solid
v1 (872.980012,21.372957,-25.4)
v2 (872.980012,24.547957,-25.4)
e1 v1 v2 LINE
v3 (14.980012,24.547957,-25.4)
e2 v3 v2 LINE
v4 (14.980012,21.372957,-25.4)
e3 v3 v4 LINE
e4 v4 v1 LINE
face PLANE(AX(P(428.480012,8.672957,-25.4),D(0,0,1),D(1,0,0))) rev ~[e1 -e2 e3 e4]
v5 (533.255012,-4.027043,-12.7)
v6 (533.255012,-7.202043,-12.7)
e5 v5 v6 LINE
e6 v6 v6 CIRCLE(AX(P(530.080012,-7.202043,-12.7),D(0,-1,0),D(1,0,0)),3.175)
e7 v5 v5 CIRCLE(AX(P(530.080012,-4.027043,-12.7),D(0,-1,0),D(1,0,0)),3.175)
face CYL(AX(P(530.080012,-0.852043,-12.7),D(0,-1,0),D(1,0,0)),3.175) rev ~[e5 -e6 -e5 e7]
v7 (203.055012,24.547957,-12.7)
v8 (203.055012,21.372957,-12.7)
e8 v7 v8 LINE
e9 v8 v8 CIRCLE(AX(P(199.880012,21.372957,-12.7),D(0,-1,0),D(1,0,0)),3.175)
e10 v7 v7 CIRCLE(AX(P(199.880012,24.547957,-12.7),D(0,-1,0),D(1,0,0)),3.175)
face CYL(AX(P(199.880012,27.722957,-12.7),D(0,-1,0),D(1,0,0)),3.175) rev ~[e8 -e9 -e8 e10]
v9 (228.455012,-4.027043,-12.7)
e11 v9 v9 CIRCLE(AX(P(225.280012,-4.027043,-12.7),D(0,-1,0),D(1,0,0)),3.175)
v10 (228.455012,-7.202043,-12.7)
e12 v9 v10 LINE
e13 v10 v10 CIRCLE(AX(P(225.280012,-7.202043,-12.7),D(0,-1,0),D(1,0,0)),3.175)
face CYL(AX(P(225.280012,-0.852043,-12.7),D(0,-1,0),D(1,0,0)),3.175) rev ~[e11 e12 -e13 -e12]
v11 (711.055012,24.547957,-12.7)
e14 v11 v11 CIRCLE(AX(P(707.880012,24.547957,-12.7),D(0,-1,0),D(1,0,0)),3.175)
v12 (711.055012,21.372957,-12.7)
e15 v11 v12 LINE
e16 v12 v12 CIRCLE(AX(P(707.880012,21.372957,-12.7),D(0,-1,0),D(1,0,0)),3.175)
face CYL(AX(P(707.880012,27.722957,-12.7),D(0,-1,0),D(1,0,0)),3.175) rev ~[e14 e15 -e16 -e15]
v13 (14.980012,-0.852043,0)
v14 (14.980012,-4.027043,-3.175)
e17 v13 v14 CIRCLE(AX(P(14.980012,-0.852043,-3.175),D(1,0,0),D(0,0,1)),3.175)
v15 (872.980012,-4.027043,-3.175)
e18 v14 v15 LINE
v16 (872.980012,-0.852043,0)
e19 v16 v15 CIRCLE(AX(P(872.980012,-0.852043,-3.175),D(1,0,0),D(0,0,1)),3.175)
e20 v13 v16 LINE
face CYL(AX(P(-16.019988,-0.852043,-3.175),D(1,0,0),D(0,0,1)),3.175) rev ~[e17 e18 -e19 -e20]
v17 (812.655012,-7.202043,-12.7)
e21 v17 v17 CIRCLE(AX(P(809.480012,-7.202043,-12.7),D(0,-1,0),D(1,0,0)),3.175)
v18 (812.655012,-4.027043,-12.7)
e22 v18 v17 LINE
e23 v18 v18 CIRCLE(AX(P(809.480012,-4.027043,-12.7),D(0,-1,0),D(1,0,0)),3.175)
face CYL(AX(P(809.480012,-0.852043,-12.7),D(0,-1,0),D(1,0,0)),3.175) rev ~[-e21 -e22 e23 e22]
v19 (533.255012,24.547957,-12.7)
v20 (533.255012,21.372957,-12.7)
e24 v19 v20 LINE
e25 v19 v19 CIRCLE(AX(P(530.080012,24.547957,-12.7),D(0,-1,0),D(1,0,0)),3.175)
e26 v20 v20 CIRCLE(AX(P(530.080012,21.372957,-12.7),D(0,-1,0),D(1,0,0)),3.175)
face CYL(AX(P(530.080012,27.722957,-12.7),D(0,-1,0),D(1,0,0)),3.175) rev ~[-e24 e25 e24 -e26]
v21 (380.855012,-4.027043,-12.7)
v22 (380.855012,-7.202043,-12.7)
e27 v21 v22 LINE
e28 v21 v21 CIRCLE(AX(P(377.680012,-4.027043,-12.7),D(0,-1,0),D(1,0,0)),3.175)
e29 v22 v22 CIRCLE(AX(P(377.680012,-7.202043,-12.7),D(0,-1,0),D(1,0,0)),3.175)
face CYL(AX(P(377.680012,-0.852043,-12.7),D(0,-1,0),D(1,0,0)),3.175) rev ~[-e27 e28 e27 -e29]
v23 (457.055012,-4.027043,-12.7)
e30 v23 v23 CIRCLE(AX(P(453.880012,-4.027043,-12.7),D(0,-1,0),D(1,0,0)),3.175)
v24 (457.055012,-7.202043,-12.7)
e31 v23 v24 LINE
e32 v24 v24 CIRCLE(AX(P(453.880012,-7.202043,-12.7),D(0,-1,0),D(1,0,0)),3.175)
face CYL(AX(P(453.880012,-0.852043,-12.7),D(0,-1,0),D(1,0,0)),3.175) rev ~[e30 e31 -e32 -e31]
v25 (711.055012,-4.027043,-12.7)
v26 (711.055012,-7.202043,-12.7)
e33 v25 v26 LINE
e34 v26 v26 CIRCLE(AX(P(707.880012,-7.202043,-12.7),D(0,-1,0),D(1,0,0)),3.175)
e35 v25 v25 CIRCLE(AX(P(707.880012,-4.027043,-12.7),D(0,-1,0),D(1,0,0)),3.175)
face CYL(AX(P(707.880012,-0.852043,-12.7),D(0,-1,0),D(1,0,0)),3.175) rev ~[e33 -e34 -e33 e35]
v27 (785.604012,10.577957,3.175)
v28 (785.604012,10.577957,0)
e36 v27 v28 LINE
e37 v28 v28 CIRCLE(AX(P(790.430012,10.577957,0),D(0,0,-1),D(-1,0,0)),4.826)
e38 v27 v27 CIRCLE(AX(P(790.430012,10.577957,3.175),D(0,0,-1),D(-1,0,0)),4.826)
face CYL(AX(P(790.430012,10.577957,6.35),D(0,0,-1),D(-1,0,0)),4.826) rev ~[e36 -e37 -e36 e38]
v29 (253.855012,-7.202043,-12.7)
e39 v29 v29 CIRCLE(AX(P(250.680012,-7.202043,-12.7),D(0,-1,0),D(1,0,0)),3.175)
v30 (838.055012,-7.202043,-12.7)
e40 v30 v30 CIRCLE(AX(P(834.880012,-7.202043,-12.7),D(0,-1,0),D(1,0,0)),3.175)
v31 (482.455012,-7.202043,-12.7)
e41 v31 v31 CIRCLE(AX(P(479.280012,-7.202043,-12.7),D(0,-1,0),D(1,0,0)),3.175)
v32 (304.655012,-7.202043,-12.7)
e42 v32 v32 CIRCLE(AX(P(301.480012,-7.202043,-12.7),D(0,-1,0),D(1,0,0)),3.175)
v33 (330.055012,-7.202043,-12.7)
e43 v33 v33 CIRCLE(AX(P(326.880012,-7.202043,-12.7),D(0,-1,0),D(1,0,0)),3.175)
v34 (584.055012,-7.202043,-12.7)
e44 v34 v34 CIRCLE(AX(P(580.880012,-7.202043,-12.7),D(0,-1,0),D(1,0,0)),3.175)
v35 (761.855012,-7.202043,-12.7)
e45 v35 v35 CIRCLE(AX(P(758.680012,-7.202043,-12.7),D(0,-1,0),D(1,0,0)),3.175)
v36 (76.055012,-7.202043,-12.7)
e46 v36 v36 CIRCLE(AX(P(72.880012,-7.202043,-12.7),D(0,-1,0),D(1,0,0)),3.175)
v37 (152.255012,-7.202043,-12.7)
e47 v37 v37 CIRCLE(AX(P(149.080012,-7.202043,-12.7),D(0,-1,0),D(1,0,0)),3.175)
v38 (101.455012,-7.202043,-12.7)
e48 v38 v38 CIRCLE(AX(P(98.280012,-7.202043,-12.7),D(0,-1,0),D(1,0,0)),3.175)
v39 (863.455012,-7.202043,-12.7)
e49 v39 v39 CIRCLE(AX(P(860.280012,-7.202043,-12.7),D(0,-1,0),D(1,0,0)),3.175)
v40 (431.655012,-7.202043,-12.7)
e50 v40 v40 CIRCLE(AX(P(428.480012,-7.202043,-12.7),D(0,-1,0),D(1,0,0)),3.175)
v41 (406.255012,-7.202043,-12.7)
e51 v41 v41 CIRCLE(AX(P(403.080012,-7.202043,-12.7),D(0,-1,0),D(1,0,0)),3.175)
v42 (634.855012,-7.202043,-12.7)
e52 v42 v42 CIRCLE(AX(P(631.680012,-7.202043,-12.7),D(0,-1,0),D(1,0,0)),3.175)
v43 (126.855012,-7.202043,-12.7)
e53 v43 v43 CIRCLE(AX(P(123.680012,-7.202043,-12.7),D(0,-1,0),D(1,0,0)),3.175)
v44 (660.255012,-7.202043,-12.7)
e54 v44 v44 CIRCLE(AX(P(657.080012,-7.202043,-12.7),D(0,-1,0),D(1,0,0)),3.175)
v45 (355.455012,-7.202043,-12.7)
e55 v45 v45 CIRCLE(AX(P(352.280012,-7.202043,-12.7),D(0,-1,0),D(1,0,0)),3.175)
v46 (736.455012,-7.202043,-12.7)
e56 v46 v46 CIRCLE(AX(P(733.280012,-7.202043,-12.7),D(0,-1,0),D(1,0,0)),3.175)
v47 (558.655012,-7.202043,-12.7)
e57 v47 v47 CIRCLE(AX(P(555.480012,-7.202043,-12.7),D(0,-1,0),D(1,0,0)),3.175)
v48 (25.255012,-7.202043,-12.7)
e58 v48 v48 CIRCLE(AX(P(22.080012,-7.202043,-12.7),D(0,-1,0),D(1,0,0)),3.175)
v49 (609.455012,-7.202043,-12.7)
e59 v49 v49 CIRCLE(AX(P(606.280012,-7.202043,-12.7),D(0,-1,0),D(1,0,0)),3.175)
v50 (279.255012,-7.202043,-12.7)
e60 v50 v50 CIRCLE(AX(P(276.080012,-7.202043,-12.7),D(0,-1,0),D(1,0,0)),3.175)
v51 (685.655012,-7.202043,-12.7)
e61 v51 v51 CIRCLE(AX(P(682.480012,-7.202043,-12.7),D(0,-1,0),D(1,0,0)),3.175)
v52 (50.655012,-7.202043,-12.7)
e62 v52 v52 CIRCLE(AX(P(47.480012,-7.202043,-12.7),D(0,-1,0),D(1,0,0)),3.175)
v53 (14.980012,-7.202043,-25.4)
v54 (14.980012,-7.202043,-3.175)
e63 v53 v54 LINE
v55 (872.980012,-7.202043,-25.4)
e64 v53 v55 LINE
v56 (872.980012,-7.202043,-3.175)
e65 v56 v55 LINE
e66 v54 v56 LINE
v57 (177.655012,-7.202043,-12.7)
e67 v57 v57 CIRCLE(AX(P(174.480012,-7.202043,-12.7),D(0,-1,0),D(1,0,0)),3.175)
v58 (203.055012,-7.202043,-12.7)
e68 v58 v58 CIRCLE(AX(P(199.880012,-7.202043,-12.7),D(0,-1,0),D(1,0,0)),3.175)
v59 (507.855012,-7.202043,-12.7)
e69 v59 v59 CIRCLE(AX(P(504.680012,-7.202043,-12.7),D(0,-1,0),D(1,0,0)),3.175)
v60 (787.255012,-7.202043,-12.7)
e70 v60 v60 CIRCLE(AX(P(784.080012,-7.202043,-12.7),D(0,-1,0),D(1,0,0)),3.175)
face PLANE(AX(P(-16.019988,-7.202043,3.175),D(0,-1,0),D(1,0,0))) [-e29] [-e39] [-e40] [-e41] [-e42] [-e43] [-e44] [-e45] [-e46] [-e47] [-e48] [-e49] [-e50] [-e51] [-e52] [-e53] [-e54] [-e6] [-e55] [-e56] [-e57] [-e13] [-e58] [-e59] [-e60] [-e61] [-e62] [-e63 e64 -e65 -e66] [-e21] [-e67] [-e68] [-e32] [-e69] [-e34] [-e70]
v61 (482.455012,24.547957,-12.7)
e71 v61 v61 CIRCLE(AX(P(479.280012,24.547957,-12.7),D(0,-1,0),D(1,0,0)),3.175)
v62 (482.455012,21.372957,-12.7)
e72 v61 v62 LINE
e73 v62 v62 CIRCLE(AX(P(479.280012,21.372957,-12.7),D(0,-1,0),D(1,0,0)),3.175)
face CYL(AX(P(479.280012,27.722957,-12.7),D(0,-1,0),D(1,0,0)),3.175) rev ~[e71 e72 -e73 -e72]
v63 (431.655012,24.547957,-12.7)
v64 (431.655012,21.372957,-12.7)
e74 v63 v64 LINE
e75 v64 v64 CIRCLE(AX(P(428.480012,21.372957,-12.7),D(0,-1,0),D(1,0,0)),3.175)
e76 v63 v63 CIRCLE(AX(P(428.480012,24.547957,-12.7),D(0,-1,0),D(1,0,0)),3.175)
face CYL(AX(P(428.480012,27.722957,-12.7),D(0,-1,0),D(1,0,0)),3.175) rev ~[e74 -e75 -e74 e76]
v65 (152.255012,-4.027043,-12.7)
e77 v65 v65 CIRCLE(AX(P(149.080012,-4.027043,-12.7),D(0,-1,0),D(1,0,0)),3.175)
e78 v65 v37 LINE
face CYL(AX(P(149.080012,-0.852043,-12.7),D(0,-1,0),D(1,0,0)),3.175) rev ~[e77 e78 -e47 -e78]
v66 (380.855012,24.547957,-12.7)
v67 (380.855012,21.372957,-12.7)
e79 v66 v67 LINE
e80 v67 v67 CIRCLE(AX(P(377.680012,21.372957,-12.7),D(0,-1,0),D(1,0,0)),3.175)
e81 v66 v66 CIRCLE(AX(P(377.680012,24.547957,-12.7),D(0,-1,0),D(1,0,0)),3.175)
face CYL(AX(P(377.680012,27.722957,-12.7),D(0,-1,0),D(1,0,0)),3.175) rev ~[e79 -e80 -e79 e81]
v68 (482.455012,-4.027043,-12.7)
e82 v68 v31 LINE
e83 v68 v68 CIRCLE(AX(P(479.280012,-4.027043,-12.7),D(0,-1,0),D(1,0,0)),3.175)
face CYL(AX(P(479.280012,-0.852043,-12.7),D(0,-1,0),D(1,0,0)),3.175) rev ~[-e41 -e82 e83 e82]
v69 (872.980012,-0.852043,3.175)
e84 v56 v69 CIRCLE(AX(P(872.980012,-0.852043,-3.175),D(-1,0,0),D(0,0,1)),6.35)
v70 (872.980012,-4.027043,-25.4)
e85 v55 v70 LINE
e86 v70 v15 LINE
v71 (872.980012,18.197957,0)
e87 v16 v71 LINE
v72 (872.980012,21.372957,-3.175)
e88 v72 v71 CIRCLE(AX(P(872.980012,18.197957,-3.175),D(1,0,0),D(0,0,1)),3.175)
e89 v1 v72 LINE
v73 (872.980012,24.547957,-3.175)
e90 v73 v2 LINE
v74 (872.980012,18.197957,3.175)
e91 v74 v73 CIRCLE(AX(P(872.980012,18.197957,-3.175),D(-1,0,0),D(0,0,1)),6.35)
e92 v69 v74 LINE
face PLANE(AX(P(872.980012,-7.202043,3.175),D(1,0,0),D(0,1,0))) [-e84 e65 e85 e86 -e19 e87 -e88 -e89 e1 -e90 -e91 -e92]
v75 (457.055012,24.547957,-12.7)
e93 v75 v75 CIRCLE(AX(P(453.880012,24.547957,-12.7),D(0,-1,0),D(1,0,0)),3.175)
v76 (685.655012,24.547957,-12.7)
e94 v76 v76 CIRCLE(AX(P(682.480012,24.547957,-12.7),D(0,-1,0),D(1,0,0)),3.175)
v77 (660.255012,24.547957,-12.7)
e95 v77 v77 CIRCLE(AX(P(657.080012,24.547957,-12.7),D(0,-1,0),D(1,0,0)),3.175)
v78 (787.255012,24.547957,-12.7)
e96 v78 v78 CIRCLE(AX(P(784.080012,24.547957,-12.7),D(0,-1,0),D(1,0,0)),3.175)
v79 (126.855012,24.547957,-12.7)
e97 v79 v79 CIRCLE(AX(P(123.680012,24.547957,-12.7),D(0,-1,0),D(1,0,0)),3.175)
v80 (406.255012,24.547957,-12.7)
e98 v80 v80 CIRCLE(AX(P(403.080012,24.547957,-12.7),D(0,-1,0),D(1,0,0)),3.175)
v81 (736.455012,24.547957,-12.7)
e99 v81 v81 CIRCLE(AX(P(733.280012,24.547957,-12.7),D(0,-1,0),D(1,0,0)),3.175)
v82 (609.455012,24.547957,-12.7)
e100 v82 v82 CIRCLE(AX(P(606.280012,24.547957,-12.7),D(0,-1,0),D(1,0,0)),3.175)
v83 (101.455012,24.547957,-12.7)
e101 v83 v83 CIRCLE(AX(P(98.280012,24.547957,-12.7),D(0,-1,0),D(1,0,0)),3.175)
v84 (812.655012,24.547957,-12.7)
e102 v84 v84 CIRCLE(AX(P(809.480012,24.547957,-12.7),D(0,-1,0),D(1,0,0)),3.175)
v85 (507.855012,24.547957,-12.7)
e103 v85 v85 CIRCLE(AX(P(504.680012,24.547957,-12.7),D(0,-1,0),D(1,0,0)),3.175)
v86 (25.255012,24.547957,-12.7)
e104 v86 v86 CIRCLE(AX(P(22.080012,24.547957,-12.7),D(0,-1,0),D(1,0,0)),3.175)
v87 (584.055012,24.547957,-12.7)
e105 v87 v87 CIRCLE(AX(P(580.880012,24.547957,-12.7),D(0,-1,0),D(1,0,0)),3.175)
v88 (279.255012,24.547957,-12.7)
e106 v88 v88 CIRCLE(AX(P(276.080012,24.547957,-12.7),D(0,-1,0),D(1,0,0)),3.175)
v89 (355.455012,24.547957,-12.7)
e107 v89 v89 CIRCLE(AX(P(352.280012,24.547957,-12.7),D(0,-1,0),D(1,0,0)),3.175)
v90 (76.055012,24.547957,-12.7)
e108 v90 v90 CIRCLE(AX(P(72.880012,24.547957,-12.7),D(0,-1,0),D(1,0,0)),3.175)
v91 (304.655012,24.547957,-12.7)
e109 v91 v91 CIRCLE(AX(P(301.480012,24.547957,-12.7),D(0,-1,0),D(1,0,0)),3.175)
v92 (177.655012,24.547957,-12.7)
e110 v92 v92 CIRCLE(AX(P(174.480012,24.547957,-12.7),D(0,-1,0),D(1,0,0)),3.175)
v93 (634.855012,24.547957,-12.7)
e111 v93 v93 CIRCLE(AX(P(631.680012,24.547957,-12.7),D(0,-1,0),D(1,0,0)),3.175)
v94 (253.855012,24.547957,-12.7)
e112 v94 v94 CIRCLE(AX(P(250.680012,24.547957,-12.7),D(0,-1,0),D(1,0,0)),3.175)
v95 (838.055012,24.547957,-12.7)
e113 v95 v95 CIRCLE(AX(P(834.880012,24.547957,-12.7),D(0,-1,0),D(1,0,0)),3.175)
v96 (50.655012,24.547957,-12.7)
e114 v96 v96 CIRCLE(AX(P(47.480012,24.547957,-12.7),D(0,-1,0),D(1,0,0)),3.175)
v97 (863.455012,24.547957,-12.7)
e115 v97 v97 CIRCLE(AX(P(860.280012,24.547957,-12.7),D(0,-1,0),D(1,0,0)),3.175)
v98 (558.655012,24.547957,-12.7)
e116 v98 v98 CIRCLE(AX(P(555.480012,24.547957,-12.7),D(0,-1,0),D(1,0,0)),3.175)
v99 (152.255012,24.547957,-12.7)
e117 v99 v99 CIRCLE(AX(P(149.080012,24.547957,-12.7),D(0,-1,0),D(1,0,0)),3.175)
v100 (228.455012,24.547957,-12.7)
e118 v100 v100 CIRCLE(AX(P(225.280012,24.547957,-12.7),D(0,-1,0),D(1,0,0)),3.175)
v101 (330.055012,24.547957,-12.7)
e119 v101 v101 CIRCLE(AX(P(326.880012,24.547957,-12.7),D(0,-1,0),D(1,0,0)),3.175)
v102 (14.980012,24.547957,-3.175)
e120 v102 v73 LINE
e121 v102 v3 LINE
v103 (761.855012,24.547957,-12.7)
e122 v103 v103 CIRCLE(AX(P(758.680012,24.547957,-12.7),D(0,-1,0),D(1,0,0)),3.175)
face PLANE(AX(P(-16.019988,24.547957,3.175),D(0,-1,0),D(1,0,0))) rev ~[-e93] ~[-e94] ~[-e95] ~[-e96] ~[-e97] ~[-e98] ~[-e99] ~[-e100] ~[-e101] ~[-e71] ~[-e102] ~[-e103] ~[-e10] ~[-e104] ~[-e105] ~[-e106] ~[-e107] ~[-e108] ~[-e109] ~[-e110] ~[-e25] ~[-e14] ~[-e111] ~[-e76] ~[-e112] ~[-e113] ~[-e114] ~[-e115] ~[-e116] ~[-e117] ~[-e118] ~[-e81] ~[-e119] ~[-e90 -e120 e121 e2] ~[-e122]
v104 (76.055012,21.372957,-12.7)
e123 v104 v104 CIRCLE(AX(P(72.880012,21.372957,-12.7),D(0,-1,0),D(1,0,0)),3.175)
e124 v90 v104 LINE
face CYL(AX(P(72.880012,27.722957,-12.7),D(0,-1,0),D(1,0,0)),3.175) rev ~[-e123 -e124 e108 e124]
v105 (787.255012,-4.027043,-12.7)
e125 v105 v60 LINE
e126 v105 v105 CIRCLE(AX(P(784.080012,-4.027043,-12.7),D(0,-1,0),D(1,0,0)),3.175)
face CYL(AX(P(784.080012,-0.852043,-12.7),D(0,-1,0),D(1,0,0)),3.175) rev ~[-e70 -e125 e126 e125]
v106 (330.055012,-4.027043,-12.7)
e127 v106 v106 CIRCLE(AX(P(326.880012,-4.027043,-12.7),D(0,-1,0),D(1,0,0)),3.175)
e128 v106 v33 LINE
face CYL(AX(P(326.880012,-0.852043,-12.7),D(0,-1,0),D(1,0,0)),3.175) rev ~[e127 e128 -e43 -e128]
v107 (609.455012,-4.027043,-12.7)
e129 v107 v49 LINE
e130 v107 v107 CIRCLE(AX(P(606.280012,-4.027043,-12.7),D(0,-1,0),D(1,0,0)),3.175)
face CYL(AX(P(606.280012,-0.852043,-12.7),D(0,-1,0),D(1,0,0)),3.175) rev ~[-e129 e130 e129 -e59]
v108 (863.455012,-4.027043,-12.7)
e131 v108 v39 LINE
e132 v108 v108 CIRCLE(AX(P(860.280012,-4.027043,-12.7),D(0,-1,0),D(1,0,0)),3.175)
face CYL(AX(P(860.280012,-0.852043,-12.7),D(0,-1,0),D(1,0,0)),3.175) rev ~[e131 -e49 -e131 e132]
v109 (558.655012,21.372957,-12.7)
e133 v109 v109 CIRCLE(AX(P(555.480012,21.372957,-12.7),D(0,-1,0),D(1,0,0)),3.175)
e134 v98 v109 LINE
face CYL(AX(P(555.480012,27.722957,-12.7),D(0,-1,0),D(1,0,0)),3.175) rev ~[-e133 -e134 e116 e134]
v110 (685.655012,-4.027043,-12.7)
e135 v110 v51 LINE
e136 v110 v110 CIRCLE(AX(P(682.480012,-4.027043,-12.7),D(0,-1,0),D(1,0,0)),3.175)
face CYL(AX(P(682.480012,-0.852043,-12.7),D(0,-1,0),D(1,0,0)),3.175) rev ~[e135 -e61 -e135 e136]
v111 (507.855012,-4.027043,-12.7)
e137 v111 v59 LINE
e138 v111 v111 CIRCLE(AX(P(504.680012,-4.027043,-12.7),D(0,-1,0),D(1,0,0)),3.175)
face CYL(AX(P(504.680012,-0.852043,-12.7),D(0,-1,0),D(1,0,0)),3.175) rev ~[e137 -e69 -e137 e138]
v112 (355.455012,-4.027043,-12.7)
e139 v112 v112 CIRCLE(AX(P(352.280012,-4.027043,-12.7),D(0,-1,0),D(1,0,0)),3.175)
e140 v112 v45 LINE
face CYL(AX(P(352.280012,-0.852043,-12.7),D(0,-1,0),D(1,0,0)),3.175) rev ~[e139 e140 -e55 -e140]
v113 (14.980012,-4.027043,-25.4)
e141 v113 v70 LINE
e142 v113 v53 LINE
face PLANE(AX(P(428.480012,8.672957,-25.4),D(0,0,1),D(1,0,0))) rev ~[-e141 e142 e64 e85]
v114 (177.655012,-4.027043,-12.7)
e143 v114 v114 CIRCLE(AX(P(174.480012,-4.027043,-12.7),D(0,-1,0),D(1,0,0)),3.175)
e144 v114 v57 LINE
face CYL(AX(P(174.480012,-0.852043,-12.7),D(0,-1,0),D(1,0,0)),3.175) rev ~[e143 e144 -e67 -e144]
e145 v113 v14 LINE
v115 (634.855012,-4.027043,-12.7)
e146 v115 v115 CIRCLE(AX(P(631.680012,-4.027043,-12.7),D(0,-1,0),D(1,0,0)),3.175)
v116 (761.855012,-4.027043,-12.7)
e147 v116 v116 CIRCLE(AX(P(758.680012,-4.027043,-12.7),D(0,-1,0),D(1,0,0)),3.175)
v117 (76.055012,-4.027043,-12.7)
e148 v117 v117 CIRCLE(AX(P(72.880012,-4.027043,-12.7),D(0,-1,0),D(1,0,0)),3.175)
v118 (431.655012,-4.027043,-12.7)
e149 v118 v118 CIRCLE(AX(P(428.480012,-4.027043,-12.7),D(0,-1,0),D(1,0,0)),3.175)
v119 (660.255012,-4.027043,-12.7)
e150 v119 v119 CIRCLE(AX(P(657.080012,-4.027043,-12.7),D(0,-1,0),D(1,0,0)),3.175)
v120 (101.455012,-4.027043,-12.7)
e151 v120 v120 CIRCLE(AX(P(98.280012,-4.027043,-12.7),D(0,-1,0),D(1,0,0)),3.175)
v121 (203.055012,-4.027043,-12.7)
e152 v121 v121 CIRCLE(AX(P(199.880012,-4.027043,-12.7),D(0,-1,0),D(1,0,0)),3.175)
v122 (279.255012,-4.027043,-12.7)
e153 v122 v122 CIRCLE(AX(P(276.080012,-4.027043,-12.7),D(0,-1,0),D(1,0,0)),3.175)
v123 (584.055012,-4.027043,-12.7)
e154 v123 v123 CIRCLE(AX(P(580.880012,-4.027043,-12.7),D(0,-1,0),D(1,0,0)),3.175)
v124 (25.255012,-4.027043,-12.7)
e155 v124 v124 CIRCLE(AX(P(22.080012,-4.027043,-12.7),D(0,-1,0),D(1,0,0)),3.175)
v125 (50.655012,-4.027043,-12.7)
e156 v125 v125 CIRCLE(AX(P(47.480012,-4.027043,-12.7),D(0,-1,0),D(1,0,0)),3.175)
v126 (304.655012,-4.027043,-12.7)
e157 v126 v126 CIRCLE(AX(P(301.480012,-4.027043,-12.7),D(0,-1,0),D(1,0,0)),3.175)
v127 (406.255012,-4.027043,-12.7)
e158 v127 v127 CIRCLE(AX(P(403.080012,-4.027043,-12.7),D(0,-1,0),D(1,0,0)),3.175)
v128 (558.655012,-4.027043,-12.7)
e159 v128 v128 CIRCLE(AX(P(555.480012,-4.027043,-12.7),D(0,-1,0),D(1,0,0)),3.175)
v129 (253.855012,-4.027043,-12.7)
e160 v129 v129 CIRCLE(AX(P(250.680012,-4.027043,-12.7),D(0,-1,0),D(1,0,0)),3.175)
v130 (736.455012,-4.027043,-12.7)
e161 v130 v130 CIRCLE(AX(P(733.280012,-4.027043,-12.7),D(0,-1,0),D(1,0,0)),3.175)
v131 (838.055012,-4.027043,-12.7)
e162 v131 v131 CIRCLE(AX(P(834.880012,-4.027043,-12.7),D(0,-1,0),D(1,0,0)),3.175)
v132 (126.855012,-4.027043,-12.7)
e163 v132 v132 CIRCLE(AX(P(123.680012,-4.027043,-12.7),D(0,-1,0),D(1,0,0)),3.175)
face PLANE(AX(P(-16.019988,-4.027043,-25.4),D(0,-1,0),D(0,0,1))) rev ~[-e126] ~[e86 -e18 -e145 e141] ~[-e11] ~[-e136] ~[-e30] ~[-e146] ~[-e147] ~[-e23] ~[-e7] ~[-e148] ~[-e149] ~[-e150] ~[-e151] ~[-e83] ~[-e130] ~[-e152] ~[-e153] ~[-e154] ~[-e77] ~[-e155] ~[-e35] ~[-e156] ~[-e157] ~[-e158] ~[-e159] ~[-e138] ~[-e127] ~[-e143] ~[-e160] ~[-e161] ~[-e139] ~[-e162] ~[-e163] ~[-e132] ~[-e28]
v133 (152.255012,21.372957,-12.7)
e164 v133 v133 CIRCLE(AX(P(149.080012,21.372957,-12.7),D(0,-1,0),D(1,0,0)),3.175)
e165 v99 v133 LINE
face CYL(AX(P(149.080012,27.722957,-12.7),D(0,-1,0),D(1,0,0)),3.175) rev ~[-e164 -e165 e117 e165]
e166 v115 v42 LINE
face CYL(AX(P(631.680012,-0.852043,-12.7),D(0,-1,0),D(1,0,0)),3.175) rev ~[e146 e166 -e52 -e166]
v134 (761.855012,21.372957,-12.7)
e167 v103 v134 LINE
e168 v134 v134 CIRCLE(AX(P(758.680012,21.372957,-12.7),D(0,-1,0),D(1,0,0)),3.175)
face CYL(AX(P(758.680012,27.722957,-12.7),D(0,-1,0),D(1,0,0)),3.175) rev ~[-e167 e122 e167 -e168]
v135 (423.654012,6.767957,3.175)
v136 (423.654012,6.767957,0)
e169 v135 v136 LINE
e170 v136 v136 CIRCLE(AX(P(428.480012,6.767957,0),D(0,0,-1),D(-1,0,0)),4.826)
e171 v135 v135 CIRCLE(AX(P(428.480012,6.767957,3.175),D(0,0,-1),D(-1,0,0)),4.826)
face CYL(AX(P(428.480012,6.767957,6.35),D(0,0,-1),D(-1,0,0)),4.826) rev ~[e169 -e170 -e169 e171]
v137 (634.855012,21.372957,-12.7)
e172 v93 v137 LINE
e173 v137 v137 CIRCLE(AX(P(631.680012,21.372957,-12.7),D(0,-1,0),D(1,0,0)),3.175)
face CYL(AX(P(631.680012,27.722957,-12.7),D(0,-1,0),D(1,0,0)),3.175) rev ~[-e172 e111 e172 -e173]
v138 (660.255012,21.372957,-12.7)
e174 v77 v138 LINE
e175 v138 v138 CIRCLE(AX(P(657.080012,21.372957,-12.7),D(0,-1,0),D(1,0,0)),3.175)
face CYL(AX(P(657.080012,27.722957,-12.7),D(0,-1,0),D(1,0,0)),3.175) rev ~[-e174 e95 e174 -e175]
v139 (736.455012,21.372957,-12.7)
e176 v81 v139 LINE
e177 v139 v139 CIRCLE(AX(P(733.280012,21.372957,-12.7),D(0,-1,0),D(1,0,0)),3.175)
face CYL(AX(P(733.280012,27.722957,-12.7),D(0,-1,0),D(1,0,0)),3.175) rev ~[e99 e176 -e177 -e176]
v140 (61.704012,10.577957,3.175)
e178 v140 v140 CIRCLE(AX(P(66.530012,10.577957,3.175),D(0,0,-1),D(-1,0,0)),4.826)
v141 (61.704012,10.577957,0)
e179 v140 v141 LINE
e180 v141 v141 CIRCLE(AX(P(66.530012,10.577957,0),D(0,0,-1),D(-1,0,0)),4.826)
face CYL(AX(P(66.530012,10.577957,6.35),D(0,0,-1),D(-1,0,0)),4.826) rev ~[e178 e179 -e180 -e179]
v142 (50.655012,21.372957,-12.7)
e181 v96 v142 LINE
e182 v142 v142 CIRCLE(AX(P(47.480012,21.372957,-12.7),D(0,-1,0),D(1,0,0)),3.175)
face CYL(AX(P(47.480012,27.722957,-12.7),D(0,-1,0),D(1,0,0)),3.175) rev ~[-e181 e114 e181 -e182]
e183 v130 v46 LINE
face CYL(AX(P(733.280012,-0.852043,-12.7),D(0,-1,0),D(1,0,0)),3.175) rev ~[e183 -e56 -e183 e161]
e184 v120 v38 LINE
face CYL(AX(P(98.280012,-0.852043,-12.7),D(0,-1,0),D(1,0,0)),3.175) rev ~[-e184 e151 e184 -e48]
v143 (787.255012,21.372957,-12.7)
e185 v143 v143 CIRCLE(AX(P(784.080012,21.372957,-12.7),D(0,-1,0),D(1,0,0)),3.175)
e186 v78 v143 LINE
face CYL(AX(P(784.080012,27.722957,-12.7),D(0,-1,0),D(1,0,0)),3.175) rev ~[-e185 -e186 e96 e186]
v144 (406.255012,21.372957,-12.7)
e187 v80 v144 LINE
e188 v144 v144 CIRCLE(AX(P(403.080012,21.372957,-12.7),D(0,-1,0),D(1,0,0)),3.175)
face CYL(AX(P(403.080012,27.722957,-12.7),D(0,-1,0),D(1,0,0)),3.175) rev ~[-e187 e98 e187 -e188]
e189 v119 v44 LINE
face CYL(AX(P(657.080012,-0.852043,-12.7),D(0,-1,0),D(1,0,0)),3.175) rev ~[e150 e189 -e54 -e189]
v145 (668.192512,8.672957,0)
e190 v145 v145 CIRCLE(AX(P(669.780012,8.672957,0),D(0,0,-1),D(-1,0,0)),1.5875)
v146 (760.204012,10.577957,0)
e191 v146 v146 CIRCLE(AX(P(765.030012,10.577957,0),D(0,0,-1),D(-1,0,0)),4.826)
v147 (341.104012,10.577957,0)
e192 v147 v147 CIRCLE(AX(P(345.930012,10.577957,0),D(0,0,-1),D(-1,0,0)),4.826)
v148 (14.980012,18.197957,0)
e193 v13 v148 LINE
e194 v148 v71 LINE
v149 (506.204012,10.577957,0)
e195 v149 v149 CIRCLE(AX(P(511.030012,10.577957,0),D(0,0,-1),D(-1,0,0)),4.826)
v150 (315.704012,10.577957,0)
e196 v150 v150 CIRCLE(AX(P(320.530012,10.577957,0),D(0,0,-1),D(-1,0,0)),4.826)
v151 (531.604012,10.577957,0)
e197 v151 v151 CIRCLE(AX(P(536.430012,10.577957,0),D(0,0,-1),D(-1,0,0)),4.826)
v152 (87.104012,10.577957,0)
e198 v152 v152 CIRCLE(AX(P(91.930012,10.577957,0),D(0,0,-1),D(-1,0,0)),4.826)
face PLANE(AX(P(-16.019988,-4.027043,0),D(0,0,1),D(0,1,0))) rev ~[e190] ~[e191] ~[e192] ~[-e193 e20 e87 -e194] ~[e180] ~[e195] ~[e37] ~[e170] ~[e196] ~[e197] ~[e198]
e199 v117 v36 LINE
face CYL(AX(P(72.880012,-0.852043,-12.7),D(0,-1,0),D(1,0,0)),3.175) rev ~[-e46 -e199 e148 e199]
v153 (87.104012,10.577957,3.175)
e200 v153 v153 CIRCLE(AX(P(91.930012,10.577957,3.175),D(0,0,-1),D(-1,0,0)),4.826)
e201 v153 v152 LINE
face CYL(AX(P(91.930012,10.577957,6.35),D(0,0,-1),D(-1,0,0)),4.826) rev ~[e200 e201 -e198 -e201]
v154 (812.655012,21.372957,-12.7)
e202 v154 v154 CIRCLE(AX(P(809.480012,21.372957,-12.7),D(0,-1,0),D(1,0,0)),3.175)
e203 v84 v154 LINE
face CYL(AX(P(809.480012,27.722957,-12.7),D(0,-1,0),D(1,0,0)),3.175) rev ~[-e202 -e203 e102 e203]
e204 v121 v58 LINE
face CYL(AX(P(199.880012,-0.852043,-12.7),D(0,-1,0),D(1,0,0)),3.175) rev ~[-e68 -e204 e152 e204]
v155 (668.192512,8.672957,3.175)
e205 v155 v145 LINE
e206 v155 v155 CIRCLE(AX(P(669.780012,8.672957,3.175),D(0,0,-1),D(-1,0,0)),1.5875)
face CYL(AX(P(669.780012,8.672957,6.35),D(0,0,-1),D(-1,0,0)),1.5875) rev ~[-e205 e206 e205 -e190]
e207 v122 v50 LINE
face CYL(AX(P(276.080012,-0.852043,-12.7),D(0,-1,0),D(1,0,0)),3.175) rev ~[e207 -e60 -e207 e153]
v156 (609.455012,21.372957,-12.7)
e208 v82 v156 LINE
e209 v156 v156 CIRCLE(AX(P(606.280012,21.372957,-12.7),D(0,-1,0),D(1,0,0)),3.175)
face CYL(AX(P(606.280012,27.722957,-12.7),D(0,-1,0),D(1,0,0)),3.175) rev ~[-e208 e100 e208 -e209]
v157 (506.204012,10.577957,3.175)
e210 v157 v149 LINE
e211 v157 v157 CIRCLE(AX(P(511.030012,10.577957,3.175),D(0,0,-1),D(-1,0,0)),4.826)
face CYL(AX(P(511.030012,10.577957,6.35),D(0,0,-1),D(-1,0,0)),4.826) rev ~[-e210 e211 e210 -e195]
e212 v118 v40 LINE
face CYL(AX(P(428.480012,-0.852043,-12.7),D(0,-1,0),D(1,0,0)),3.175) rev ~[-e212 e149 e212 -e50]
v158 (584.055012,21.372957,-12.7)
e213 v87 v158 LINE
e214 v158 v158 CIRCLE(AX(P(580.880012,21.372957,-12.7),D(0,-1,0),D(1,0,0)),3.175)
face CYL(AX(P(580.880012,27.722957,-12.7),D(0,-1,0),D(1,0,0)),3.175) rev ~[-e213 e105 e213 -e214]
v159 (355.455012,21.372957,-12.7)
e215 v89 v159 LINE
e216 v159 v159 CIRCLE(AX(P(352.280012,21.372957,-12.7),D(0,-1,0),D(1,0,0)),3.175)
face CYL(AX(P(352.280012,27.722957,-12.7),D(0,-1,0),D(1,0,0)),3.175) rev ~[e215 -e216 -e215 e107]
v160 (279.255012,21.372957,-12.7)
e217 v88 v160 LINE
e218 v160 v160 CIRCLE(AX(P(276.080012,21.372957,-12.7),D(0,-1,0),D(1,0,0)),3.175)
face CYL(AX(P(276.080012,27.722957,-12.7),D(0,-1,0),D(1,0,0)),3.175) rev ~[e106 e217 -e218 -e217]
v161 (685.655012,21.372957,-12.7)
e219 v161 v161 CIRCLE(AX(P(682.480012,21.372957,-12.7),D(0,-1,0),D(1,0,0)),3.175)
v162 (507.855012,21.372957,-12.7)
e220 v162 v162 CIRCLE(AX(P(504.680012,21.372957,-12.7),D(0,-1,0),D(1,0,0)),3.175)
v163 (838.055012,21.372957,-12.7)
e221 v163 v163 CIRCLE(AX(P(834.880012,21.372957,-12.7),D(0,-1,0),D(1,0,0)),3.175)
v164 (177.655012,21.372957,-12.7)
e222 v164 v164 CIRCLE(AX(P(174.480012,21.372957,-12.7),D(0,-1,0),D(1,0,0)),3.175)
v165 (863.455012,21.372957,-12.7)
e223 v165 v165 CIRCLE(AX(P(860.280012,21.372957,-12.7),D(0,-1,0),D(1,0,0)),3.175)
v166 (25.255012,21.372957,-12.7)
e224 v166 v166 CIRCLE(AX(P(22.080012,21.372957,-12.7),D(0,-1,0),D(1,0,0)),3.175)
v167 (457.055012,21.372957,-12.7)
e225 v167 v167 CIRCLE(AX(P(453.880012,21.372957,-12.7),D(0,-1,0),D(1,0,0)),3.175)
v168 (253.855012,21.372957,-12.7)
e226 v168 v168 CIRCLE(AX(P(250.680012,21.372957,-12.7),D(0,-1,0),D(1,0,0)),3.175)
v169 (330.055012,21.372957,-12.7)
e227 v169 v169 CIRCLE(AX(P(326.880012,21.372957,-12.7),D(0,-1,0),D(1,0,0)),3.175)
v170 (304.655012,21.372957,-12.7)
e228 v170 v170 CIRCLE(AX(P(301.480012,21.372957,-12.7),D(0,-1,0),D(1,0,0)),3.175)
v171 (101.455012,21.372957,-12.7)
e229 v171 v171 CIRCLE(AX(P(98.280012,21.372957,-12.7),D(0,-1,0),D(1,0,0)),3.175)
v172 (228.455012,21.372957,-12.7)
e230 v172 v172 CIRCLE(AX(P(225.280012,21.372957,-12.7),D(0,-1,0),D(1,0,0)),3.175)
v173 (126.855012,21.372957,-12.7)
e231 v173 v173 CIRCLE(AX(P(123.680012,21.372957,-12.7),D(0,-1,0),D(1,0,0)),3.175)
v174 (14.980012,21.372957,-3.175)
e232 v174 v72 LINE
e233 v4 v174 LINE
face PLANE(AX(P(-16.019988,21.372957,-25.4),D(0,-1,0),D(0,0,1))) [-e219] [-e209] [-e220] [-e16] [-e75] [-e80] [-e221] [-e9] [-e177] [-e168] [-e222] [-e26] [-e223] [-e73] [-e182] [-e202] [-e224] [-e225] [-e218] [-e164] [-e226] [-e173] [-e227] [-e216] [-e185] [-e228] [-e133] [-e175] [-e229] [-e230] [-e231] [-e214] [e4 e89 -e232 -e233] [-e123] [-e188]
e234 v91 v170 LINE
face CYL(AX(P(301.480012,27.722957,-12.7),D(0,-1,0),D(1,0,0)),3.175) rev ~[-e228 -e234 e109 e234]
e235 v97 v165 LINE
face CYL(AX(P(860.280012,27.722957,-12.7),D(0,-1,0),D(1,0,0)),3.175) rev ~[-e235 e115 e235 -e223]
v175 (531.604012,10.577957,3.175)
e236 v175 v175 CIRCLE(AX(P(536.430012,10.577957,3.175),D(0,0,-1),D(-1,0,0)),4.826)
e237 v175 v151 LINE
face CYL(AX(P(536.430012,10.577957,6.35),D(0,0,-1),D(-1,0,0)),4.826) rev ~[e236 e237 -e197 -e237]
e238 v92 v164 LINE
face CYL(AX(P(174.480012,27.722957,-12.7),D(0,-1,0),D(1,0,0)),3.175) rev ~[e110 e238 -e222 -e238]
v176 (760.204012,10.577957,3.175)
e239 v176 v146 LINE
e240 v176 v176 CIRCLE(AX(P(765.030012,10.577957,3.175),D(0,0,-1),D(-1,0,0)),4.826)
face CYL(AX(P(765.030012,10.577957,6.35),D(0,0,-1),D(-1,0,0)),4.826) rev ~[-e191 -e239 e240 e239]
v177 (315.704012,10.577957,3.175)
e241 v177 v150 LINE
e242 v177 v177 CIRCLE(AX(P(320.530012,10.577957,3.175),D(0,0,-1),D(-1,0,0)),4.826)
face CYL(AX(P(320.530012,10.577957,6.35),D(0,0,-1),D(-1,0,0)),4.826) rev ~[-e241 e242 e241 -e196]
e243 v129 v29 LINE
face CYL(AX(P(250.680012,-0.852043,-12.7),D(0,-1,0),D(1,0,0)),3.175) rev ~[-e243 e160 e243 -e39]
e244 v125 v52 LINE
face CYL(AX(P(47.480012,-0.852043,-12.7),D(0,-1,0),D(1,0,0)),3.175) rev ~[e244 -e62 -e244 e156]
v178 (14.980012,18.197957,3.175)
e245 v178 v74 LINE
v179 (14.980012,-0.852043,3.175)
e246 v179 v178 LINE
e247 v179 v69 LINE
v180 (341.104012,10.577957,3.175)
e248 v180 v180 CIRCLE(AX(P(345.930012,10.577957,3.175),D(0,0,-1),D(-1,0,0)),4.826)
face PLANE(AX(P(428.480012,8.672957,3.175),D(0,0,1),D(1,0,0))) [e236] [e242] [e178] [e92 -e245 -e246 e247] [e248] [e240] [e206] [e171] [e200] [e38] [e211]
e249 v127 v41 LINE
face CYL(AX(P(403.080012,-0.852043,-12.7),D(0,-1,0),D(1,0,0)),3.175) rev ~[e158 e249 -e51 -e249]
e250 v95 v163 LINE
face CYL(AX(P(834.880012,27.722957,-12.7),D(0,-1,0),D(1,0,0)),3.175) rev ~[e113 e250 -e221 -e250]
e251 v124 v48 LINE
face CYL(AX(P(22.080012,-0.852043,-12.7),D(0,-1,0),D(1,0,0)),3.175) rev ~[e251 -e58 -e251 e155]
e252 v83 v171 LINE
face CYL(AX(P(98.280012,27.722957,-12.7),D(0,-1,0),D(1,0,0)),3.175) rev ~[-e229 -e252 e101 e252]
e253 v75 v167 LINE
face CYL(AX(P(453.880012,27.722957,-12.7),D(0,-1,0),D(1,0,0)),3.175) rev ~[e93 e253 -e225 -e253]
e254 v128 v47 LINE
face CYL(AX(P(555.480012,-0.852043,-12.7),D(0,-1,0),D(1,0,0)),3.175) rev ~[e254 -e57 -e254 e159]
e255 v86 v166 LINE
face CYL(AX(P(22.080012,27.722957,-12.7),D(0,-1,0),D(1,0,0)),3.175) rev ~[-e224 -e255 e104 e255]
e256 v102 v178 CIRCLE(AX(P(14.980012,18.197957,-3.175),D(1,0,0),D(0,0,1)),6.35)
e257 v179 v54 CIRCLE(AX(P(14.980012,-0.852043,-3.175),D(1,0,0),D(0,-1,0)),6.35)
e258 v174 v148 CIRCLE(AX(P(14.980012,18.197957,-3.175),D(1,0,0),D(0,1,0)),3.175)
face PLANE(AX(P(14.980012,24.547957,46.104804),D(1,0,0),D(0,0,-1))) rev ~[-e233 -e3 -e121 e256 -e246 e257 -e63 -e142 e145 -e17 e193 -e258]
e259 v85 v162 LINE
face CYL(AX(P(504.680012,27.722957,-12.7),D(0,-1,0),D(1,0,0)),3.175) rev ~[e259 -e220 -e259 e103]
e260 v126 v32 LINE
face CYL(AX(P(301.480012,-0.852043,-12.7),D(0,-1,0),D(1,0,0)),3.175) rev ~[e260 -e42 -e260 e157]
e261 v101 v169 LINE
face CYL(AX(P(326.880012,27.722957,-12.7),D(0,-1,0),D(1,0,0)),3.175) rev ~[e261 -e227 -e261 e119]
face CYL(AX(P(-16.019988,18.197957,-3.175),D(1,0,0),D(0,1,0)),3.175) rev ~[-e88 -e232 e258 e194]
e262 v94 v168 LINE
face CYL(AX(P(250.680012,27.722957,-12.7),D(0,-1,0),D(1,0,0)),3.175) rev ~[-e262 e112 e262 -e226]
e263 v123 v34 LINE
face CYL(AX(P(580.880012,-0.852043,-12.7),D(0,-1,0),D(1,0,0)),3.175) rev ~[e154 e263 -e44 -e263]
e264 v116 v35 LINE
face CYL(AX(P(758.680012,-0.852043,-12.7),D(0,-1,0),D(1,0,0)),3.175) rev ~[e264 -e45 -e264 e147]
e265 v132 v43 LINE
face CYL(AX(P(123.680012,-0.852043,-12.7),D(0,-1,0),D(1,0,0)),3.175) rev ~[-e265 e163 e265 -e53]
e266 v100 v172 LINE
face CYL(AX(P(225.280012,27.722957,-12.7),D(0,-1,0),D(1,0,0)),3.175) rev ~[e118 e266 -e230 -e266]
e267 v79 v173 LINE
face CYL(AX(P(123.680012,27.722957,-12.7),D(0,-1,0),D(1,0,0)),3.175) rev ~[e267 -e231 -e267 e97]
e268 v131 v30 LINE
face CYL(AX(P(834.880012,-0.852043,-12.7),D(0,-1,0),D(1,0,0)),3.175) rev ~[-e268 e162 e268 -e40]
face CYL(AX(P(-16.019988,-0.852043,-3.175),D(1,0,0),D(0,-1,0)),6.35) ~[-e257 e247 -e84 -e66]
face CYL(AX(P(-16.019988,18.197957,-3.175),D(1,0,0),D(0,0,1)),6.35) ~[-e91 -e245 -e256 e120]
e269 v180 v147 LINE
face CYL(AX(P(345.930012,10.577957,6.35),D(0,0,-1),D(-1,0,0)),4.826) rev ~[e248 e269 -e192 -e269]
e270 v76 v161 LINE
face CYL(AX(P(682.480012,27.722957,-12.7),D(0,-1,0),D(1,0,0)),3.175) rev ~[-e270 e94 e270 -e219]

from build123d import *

# Parameters (mm, degrees)
SKETCH1_W          = 889
SKETCH1_H          = 31.75
EXTRUDE1_DEPTH     = 28.575
EXTRUDE2_REACH     = 891.702
SKETCH2_W          = 25.4
SKETCH2_H          = 25.4
HOLE1_D            = 6.35
HOLE1_DEPTH        = 3.175
LPATTERN1_COUNT    = 35
LPATTERN1_PITCH    = 25.4
HOLE2_D            = 9.652
LPATTERN2_COUNT    = 12
LPATTERN2_PITCH    = 25.4
HOLE3_D            = 9.652
HOLE4_D            = 9.652
LPATTERN3_COUNT    = 12
LPATTERN3_PITCH    = 25.4
HOLE5_D            = 3.175
HOLE6_D            = 6.35
LPATTERN4_COUNT    = 35
LPATTERN4_PITCH    = 25.4
FILLET1_R          = 3.175
FILLET2_R          = 3.175
FILLET3_R          = 6.35
FILLET4_R          = 6.35
SKETCH16_W         = 47.760071232
SKETCH16_H         = 71.504803879
CUT_EXTRUDE2_DEPTH = 55


with BuildPart() as part:
    # Sketch1 → Extrude1 (new body)
    with BuildSketch(Plane.XY.offset(3.175)):
        with Locations((428.480011997, 8.672957166)):
            Rectangle(SKETCH1_W, SKETCH1_H)
    extrude(amount=-EXTRUDE1_DEPTH)

    # Sketch2 → Extrude2 (cut, up to next)
    with BuildSketch(Plane.ZY.offset(16.019988003), mode=Mode.PRIVATE) as extrude2_sk1:
        with Locations((-12.7, 8.672957166)):
            Rectangle(SKETCH2_W, SKETCH2_H)
    extrude2_tool1 = extrude(extrude2_sk1.sketch, amount=-EXTRUDE2_REACH, mode=Mode.PRIVATE) & part.part
    add(extrude2_tool1.solids().sort_by_distance((-16.019988, 8.672957, -12.7))[0], mode=Mode.SUBTRACT)

    # Hole1
    with Locations(Plane(origin=(0, 24.547957166, 0), x_dir=(-1, 0, 0), z_dir=(0, 1, 0))):
        with Locations((3.319988003, -12.7)):
            hole1 = Hole(HOLE1_D / 2, depth=HOLE1_DEPTH)

    # LPattern1: Hole1 ×35
    with Locations(*[(i * LPATTERN1_PITCH, 0, 0) for i in range(1, LPATTERN1_COUNT)]):
        add(hole1, mode=Mode.SUBTRACT)

    # Hole2 (through all)
    with Locations(Plane.XY.offset(3.175)):
        with Locations((66.530011997, 10.577957166)):
            hole2 = Hole(HOLE2_D / 2)

    # LPattern2: Hole2 ×12, 8 skipped
    with Locations(*[(i * LPATTERN2_PITCH, 0, 0) for i in range(1, LPATTERN2_COUNT) if i not in (2, 3, 4, 5, 6, 7, 8, 9)]):
        add(hole2, mode=Mode.SUBTRACT)

    # Hole3 (through all)
    with Locations(Plane.XY.offset(3.175)):
        with Locations((428.480011997, 6.767957166)):
            Hole(HOLE3_D / 2)

    # Hole4 (through all)
    with Locations(Plane.XY.offset(3.175)):
        with Locations((511.030011997, 10.577957166)):
            hole4 = Hole(HOLE4_D / 2)

    # LPattern3: Hole4 ×12, 8 skipped
    with Locations(*[(i * LPATTERN3_PITCH, 0, 0) for i in range(1, LPATTERN3_COUNT) if i not in (2, 3, 4, 5, 6, 7, 8, 9)]):
        add(hole4, mode=Mode.SUBTRACT)

    # Hole5 (through all)
    with Locations(Plane.XY.offset(3.175)):
        with Locations((669.780011997, 8.672957166)):
            Hole(HOLE5_D / 2)

    # Hole6 (through all)
    with Locations(Plane(origin=(0, -4.027042834, 0), x_dir=(-1, 0, 0), z_dir=(0, 1, 0))):
        with Locations((3.319988003, -12.7)):
            hole6 = Hole(HOLE6_D / 2)

    # LPattern4: Hole6 ×35
    with Locations(*[(i * LPATTERN4_PITCH, 0, 0) for i in range(1, LPATTERN4_COUNT)]):
        add(hole6, mode=Mode.SUBTRACT)

    # Fillet1
    fillet1_edges = [part.edges().sort_by_distance(p)[0] for p in [
        (428.480011997, 21.372957166, 0),
    ]]
    fillet(fillet1_edges, radius=FILLET1_R)

    # Fillet2
    fillet2_edges = [part.edges().sort_by_distance(p)[0] for p in [
        (428.480011997, -4.027042834, 0),
    ]]
    fillet(fillet2_edges, radius=FILLET2_R)

    # Fillet3
    fillet3_edges = [part.edges().sort_by_distance(p)[0] for p in [
        (428.480011997, -7.202042834, 3.175),
    ]]
    fillet(fillet3_edges, radius=FILLET3_R)

    # Fillet4
    fillet4_edges = [part.edges().sort_by_distance(p)[0] for p in [
        (428.480011997, 24.547957166, 3.175),
    ]]
    fillet(fillet4_edges, radius=FILLET4_R)

    # Sketch16 → Cut-Extrude2 (cut)
    with BuildSketch(Plane(origin=(0, 24.547957166, 0), x_dir=(1, 0, 0), z_dir=(0, 1, 0))):
        with Locations((-8.900023619, -10.352401939)):
            Rectangle(SKETCH16_W, SKETCH16_H)
    extrude(amount=-CUT_EXTRUDE2_DEPTH, mode=Mode.SUBTRACT)


solid = part.part
